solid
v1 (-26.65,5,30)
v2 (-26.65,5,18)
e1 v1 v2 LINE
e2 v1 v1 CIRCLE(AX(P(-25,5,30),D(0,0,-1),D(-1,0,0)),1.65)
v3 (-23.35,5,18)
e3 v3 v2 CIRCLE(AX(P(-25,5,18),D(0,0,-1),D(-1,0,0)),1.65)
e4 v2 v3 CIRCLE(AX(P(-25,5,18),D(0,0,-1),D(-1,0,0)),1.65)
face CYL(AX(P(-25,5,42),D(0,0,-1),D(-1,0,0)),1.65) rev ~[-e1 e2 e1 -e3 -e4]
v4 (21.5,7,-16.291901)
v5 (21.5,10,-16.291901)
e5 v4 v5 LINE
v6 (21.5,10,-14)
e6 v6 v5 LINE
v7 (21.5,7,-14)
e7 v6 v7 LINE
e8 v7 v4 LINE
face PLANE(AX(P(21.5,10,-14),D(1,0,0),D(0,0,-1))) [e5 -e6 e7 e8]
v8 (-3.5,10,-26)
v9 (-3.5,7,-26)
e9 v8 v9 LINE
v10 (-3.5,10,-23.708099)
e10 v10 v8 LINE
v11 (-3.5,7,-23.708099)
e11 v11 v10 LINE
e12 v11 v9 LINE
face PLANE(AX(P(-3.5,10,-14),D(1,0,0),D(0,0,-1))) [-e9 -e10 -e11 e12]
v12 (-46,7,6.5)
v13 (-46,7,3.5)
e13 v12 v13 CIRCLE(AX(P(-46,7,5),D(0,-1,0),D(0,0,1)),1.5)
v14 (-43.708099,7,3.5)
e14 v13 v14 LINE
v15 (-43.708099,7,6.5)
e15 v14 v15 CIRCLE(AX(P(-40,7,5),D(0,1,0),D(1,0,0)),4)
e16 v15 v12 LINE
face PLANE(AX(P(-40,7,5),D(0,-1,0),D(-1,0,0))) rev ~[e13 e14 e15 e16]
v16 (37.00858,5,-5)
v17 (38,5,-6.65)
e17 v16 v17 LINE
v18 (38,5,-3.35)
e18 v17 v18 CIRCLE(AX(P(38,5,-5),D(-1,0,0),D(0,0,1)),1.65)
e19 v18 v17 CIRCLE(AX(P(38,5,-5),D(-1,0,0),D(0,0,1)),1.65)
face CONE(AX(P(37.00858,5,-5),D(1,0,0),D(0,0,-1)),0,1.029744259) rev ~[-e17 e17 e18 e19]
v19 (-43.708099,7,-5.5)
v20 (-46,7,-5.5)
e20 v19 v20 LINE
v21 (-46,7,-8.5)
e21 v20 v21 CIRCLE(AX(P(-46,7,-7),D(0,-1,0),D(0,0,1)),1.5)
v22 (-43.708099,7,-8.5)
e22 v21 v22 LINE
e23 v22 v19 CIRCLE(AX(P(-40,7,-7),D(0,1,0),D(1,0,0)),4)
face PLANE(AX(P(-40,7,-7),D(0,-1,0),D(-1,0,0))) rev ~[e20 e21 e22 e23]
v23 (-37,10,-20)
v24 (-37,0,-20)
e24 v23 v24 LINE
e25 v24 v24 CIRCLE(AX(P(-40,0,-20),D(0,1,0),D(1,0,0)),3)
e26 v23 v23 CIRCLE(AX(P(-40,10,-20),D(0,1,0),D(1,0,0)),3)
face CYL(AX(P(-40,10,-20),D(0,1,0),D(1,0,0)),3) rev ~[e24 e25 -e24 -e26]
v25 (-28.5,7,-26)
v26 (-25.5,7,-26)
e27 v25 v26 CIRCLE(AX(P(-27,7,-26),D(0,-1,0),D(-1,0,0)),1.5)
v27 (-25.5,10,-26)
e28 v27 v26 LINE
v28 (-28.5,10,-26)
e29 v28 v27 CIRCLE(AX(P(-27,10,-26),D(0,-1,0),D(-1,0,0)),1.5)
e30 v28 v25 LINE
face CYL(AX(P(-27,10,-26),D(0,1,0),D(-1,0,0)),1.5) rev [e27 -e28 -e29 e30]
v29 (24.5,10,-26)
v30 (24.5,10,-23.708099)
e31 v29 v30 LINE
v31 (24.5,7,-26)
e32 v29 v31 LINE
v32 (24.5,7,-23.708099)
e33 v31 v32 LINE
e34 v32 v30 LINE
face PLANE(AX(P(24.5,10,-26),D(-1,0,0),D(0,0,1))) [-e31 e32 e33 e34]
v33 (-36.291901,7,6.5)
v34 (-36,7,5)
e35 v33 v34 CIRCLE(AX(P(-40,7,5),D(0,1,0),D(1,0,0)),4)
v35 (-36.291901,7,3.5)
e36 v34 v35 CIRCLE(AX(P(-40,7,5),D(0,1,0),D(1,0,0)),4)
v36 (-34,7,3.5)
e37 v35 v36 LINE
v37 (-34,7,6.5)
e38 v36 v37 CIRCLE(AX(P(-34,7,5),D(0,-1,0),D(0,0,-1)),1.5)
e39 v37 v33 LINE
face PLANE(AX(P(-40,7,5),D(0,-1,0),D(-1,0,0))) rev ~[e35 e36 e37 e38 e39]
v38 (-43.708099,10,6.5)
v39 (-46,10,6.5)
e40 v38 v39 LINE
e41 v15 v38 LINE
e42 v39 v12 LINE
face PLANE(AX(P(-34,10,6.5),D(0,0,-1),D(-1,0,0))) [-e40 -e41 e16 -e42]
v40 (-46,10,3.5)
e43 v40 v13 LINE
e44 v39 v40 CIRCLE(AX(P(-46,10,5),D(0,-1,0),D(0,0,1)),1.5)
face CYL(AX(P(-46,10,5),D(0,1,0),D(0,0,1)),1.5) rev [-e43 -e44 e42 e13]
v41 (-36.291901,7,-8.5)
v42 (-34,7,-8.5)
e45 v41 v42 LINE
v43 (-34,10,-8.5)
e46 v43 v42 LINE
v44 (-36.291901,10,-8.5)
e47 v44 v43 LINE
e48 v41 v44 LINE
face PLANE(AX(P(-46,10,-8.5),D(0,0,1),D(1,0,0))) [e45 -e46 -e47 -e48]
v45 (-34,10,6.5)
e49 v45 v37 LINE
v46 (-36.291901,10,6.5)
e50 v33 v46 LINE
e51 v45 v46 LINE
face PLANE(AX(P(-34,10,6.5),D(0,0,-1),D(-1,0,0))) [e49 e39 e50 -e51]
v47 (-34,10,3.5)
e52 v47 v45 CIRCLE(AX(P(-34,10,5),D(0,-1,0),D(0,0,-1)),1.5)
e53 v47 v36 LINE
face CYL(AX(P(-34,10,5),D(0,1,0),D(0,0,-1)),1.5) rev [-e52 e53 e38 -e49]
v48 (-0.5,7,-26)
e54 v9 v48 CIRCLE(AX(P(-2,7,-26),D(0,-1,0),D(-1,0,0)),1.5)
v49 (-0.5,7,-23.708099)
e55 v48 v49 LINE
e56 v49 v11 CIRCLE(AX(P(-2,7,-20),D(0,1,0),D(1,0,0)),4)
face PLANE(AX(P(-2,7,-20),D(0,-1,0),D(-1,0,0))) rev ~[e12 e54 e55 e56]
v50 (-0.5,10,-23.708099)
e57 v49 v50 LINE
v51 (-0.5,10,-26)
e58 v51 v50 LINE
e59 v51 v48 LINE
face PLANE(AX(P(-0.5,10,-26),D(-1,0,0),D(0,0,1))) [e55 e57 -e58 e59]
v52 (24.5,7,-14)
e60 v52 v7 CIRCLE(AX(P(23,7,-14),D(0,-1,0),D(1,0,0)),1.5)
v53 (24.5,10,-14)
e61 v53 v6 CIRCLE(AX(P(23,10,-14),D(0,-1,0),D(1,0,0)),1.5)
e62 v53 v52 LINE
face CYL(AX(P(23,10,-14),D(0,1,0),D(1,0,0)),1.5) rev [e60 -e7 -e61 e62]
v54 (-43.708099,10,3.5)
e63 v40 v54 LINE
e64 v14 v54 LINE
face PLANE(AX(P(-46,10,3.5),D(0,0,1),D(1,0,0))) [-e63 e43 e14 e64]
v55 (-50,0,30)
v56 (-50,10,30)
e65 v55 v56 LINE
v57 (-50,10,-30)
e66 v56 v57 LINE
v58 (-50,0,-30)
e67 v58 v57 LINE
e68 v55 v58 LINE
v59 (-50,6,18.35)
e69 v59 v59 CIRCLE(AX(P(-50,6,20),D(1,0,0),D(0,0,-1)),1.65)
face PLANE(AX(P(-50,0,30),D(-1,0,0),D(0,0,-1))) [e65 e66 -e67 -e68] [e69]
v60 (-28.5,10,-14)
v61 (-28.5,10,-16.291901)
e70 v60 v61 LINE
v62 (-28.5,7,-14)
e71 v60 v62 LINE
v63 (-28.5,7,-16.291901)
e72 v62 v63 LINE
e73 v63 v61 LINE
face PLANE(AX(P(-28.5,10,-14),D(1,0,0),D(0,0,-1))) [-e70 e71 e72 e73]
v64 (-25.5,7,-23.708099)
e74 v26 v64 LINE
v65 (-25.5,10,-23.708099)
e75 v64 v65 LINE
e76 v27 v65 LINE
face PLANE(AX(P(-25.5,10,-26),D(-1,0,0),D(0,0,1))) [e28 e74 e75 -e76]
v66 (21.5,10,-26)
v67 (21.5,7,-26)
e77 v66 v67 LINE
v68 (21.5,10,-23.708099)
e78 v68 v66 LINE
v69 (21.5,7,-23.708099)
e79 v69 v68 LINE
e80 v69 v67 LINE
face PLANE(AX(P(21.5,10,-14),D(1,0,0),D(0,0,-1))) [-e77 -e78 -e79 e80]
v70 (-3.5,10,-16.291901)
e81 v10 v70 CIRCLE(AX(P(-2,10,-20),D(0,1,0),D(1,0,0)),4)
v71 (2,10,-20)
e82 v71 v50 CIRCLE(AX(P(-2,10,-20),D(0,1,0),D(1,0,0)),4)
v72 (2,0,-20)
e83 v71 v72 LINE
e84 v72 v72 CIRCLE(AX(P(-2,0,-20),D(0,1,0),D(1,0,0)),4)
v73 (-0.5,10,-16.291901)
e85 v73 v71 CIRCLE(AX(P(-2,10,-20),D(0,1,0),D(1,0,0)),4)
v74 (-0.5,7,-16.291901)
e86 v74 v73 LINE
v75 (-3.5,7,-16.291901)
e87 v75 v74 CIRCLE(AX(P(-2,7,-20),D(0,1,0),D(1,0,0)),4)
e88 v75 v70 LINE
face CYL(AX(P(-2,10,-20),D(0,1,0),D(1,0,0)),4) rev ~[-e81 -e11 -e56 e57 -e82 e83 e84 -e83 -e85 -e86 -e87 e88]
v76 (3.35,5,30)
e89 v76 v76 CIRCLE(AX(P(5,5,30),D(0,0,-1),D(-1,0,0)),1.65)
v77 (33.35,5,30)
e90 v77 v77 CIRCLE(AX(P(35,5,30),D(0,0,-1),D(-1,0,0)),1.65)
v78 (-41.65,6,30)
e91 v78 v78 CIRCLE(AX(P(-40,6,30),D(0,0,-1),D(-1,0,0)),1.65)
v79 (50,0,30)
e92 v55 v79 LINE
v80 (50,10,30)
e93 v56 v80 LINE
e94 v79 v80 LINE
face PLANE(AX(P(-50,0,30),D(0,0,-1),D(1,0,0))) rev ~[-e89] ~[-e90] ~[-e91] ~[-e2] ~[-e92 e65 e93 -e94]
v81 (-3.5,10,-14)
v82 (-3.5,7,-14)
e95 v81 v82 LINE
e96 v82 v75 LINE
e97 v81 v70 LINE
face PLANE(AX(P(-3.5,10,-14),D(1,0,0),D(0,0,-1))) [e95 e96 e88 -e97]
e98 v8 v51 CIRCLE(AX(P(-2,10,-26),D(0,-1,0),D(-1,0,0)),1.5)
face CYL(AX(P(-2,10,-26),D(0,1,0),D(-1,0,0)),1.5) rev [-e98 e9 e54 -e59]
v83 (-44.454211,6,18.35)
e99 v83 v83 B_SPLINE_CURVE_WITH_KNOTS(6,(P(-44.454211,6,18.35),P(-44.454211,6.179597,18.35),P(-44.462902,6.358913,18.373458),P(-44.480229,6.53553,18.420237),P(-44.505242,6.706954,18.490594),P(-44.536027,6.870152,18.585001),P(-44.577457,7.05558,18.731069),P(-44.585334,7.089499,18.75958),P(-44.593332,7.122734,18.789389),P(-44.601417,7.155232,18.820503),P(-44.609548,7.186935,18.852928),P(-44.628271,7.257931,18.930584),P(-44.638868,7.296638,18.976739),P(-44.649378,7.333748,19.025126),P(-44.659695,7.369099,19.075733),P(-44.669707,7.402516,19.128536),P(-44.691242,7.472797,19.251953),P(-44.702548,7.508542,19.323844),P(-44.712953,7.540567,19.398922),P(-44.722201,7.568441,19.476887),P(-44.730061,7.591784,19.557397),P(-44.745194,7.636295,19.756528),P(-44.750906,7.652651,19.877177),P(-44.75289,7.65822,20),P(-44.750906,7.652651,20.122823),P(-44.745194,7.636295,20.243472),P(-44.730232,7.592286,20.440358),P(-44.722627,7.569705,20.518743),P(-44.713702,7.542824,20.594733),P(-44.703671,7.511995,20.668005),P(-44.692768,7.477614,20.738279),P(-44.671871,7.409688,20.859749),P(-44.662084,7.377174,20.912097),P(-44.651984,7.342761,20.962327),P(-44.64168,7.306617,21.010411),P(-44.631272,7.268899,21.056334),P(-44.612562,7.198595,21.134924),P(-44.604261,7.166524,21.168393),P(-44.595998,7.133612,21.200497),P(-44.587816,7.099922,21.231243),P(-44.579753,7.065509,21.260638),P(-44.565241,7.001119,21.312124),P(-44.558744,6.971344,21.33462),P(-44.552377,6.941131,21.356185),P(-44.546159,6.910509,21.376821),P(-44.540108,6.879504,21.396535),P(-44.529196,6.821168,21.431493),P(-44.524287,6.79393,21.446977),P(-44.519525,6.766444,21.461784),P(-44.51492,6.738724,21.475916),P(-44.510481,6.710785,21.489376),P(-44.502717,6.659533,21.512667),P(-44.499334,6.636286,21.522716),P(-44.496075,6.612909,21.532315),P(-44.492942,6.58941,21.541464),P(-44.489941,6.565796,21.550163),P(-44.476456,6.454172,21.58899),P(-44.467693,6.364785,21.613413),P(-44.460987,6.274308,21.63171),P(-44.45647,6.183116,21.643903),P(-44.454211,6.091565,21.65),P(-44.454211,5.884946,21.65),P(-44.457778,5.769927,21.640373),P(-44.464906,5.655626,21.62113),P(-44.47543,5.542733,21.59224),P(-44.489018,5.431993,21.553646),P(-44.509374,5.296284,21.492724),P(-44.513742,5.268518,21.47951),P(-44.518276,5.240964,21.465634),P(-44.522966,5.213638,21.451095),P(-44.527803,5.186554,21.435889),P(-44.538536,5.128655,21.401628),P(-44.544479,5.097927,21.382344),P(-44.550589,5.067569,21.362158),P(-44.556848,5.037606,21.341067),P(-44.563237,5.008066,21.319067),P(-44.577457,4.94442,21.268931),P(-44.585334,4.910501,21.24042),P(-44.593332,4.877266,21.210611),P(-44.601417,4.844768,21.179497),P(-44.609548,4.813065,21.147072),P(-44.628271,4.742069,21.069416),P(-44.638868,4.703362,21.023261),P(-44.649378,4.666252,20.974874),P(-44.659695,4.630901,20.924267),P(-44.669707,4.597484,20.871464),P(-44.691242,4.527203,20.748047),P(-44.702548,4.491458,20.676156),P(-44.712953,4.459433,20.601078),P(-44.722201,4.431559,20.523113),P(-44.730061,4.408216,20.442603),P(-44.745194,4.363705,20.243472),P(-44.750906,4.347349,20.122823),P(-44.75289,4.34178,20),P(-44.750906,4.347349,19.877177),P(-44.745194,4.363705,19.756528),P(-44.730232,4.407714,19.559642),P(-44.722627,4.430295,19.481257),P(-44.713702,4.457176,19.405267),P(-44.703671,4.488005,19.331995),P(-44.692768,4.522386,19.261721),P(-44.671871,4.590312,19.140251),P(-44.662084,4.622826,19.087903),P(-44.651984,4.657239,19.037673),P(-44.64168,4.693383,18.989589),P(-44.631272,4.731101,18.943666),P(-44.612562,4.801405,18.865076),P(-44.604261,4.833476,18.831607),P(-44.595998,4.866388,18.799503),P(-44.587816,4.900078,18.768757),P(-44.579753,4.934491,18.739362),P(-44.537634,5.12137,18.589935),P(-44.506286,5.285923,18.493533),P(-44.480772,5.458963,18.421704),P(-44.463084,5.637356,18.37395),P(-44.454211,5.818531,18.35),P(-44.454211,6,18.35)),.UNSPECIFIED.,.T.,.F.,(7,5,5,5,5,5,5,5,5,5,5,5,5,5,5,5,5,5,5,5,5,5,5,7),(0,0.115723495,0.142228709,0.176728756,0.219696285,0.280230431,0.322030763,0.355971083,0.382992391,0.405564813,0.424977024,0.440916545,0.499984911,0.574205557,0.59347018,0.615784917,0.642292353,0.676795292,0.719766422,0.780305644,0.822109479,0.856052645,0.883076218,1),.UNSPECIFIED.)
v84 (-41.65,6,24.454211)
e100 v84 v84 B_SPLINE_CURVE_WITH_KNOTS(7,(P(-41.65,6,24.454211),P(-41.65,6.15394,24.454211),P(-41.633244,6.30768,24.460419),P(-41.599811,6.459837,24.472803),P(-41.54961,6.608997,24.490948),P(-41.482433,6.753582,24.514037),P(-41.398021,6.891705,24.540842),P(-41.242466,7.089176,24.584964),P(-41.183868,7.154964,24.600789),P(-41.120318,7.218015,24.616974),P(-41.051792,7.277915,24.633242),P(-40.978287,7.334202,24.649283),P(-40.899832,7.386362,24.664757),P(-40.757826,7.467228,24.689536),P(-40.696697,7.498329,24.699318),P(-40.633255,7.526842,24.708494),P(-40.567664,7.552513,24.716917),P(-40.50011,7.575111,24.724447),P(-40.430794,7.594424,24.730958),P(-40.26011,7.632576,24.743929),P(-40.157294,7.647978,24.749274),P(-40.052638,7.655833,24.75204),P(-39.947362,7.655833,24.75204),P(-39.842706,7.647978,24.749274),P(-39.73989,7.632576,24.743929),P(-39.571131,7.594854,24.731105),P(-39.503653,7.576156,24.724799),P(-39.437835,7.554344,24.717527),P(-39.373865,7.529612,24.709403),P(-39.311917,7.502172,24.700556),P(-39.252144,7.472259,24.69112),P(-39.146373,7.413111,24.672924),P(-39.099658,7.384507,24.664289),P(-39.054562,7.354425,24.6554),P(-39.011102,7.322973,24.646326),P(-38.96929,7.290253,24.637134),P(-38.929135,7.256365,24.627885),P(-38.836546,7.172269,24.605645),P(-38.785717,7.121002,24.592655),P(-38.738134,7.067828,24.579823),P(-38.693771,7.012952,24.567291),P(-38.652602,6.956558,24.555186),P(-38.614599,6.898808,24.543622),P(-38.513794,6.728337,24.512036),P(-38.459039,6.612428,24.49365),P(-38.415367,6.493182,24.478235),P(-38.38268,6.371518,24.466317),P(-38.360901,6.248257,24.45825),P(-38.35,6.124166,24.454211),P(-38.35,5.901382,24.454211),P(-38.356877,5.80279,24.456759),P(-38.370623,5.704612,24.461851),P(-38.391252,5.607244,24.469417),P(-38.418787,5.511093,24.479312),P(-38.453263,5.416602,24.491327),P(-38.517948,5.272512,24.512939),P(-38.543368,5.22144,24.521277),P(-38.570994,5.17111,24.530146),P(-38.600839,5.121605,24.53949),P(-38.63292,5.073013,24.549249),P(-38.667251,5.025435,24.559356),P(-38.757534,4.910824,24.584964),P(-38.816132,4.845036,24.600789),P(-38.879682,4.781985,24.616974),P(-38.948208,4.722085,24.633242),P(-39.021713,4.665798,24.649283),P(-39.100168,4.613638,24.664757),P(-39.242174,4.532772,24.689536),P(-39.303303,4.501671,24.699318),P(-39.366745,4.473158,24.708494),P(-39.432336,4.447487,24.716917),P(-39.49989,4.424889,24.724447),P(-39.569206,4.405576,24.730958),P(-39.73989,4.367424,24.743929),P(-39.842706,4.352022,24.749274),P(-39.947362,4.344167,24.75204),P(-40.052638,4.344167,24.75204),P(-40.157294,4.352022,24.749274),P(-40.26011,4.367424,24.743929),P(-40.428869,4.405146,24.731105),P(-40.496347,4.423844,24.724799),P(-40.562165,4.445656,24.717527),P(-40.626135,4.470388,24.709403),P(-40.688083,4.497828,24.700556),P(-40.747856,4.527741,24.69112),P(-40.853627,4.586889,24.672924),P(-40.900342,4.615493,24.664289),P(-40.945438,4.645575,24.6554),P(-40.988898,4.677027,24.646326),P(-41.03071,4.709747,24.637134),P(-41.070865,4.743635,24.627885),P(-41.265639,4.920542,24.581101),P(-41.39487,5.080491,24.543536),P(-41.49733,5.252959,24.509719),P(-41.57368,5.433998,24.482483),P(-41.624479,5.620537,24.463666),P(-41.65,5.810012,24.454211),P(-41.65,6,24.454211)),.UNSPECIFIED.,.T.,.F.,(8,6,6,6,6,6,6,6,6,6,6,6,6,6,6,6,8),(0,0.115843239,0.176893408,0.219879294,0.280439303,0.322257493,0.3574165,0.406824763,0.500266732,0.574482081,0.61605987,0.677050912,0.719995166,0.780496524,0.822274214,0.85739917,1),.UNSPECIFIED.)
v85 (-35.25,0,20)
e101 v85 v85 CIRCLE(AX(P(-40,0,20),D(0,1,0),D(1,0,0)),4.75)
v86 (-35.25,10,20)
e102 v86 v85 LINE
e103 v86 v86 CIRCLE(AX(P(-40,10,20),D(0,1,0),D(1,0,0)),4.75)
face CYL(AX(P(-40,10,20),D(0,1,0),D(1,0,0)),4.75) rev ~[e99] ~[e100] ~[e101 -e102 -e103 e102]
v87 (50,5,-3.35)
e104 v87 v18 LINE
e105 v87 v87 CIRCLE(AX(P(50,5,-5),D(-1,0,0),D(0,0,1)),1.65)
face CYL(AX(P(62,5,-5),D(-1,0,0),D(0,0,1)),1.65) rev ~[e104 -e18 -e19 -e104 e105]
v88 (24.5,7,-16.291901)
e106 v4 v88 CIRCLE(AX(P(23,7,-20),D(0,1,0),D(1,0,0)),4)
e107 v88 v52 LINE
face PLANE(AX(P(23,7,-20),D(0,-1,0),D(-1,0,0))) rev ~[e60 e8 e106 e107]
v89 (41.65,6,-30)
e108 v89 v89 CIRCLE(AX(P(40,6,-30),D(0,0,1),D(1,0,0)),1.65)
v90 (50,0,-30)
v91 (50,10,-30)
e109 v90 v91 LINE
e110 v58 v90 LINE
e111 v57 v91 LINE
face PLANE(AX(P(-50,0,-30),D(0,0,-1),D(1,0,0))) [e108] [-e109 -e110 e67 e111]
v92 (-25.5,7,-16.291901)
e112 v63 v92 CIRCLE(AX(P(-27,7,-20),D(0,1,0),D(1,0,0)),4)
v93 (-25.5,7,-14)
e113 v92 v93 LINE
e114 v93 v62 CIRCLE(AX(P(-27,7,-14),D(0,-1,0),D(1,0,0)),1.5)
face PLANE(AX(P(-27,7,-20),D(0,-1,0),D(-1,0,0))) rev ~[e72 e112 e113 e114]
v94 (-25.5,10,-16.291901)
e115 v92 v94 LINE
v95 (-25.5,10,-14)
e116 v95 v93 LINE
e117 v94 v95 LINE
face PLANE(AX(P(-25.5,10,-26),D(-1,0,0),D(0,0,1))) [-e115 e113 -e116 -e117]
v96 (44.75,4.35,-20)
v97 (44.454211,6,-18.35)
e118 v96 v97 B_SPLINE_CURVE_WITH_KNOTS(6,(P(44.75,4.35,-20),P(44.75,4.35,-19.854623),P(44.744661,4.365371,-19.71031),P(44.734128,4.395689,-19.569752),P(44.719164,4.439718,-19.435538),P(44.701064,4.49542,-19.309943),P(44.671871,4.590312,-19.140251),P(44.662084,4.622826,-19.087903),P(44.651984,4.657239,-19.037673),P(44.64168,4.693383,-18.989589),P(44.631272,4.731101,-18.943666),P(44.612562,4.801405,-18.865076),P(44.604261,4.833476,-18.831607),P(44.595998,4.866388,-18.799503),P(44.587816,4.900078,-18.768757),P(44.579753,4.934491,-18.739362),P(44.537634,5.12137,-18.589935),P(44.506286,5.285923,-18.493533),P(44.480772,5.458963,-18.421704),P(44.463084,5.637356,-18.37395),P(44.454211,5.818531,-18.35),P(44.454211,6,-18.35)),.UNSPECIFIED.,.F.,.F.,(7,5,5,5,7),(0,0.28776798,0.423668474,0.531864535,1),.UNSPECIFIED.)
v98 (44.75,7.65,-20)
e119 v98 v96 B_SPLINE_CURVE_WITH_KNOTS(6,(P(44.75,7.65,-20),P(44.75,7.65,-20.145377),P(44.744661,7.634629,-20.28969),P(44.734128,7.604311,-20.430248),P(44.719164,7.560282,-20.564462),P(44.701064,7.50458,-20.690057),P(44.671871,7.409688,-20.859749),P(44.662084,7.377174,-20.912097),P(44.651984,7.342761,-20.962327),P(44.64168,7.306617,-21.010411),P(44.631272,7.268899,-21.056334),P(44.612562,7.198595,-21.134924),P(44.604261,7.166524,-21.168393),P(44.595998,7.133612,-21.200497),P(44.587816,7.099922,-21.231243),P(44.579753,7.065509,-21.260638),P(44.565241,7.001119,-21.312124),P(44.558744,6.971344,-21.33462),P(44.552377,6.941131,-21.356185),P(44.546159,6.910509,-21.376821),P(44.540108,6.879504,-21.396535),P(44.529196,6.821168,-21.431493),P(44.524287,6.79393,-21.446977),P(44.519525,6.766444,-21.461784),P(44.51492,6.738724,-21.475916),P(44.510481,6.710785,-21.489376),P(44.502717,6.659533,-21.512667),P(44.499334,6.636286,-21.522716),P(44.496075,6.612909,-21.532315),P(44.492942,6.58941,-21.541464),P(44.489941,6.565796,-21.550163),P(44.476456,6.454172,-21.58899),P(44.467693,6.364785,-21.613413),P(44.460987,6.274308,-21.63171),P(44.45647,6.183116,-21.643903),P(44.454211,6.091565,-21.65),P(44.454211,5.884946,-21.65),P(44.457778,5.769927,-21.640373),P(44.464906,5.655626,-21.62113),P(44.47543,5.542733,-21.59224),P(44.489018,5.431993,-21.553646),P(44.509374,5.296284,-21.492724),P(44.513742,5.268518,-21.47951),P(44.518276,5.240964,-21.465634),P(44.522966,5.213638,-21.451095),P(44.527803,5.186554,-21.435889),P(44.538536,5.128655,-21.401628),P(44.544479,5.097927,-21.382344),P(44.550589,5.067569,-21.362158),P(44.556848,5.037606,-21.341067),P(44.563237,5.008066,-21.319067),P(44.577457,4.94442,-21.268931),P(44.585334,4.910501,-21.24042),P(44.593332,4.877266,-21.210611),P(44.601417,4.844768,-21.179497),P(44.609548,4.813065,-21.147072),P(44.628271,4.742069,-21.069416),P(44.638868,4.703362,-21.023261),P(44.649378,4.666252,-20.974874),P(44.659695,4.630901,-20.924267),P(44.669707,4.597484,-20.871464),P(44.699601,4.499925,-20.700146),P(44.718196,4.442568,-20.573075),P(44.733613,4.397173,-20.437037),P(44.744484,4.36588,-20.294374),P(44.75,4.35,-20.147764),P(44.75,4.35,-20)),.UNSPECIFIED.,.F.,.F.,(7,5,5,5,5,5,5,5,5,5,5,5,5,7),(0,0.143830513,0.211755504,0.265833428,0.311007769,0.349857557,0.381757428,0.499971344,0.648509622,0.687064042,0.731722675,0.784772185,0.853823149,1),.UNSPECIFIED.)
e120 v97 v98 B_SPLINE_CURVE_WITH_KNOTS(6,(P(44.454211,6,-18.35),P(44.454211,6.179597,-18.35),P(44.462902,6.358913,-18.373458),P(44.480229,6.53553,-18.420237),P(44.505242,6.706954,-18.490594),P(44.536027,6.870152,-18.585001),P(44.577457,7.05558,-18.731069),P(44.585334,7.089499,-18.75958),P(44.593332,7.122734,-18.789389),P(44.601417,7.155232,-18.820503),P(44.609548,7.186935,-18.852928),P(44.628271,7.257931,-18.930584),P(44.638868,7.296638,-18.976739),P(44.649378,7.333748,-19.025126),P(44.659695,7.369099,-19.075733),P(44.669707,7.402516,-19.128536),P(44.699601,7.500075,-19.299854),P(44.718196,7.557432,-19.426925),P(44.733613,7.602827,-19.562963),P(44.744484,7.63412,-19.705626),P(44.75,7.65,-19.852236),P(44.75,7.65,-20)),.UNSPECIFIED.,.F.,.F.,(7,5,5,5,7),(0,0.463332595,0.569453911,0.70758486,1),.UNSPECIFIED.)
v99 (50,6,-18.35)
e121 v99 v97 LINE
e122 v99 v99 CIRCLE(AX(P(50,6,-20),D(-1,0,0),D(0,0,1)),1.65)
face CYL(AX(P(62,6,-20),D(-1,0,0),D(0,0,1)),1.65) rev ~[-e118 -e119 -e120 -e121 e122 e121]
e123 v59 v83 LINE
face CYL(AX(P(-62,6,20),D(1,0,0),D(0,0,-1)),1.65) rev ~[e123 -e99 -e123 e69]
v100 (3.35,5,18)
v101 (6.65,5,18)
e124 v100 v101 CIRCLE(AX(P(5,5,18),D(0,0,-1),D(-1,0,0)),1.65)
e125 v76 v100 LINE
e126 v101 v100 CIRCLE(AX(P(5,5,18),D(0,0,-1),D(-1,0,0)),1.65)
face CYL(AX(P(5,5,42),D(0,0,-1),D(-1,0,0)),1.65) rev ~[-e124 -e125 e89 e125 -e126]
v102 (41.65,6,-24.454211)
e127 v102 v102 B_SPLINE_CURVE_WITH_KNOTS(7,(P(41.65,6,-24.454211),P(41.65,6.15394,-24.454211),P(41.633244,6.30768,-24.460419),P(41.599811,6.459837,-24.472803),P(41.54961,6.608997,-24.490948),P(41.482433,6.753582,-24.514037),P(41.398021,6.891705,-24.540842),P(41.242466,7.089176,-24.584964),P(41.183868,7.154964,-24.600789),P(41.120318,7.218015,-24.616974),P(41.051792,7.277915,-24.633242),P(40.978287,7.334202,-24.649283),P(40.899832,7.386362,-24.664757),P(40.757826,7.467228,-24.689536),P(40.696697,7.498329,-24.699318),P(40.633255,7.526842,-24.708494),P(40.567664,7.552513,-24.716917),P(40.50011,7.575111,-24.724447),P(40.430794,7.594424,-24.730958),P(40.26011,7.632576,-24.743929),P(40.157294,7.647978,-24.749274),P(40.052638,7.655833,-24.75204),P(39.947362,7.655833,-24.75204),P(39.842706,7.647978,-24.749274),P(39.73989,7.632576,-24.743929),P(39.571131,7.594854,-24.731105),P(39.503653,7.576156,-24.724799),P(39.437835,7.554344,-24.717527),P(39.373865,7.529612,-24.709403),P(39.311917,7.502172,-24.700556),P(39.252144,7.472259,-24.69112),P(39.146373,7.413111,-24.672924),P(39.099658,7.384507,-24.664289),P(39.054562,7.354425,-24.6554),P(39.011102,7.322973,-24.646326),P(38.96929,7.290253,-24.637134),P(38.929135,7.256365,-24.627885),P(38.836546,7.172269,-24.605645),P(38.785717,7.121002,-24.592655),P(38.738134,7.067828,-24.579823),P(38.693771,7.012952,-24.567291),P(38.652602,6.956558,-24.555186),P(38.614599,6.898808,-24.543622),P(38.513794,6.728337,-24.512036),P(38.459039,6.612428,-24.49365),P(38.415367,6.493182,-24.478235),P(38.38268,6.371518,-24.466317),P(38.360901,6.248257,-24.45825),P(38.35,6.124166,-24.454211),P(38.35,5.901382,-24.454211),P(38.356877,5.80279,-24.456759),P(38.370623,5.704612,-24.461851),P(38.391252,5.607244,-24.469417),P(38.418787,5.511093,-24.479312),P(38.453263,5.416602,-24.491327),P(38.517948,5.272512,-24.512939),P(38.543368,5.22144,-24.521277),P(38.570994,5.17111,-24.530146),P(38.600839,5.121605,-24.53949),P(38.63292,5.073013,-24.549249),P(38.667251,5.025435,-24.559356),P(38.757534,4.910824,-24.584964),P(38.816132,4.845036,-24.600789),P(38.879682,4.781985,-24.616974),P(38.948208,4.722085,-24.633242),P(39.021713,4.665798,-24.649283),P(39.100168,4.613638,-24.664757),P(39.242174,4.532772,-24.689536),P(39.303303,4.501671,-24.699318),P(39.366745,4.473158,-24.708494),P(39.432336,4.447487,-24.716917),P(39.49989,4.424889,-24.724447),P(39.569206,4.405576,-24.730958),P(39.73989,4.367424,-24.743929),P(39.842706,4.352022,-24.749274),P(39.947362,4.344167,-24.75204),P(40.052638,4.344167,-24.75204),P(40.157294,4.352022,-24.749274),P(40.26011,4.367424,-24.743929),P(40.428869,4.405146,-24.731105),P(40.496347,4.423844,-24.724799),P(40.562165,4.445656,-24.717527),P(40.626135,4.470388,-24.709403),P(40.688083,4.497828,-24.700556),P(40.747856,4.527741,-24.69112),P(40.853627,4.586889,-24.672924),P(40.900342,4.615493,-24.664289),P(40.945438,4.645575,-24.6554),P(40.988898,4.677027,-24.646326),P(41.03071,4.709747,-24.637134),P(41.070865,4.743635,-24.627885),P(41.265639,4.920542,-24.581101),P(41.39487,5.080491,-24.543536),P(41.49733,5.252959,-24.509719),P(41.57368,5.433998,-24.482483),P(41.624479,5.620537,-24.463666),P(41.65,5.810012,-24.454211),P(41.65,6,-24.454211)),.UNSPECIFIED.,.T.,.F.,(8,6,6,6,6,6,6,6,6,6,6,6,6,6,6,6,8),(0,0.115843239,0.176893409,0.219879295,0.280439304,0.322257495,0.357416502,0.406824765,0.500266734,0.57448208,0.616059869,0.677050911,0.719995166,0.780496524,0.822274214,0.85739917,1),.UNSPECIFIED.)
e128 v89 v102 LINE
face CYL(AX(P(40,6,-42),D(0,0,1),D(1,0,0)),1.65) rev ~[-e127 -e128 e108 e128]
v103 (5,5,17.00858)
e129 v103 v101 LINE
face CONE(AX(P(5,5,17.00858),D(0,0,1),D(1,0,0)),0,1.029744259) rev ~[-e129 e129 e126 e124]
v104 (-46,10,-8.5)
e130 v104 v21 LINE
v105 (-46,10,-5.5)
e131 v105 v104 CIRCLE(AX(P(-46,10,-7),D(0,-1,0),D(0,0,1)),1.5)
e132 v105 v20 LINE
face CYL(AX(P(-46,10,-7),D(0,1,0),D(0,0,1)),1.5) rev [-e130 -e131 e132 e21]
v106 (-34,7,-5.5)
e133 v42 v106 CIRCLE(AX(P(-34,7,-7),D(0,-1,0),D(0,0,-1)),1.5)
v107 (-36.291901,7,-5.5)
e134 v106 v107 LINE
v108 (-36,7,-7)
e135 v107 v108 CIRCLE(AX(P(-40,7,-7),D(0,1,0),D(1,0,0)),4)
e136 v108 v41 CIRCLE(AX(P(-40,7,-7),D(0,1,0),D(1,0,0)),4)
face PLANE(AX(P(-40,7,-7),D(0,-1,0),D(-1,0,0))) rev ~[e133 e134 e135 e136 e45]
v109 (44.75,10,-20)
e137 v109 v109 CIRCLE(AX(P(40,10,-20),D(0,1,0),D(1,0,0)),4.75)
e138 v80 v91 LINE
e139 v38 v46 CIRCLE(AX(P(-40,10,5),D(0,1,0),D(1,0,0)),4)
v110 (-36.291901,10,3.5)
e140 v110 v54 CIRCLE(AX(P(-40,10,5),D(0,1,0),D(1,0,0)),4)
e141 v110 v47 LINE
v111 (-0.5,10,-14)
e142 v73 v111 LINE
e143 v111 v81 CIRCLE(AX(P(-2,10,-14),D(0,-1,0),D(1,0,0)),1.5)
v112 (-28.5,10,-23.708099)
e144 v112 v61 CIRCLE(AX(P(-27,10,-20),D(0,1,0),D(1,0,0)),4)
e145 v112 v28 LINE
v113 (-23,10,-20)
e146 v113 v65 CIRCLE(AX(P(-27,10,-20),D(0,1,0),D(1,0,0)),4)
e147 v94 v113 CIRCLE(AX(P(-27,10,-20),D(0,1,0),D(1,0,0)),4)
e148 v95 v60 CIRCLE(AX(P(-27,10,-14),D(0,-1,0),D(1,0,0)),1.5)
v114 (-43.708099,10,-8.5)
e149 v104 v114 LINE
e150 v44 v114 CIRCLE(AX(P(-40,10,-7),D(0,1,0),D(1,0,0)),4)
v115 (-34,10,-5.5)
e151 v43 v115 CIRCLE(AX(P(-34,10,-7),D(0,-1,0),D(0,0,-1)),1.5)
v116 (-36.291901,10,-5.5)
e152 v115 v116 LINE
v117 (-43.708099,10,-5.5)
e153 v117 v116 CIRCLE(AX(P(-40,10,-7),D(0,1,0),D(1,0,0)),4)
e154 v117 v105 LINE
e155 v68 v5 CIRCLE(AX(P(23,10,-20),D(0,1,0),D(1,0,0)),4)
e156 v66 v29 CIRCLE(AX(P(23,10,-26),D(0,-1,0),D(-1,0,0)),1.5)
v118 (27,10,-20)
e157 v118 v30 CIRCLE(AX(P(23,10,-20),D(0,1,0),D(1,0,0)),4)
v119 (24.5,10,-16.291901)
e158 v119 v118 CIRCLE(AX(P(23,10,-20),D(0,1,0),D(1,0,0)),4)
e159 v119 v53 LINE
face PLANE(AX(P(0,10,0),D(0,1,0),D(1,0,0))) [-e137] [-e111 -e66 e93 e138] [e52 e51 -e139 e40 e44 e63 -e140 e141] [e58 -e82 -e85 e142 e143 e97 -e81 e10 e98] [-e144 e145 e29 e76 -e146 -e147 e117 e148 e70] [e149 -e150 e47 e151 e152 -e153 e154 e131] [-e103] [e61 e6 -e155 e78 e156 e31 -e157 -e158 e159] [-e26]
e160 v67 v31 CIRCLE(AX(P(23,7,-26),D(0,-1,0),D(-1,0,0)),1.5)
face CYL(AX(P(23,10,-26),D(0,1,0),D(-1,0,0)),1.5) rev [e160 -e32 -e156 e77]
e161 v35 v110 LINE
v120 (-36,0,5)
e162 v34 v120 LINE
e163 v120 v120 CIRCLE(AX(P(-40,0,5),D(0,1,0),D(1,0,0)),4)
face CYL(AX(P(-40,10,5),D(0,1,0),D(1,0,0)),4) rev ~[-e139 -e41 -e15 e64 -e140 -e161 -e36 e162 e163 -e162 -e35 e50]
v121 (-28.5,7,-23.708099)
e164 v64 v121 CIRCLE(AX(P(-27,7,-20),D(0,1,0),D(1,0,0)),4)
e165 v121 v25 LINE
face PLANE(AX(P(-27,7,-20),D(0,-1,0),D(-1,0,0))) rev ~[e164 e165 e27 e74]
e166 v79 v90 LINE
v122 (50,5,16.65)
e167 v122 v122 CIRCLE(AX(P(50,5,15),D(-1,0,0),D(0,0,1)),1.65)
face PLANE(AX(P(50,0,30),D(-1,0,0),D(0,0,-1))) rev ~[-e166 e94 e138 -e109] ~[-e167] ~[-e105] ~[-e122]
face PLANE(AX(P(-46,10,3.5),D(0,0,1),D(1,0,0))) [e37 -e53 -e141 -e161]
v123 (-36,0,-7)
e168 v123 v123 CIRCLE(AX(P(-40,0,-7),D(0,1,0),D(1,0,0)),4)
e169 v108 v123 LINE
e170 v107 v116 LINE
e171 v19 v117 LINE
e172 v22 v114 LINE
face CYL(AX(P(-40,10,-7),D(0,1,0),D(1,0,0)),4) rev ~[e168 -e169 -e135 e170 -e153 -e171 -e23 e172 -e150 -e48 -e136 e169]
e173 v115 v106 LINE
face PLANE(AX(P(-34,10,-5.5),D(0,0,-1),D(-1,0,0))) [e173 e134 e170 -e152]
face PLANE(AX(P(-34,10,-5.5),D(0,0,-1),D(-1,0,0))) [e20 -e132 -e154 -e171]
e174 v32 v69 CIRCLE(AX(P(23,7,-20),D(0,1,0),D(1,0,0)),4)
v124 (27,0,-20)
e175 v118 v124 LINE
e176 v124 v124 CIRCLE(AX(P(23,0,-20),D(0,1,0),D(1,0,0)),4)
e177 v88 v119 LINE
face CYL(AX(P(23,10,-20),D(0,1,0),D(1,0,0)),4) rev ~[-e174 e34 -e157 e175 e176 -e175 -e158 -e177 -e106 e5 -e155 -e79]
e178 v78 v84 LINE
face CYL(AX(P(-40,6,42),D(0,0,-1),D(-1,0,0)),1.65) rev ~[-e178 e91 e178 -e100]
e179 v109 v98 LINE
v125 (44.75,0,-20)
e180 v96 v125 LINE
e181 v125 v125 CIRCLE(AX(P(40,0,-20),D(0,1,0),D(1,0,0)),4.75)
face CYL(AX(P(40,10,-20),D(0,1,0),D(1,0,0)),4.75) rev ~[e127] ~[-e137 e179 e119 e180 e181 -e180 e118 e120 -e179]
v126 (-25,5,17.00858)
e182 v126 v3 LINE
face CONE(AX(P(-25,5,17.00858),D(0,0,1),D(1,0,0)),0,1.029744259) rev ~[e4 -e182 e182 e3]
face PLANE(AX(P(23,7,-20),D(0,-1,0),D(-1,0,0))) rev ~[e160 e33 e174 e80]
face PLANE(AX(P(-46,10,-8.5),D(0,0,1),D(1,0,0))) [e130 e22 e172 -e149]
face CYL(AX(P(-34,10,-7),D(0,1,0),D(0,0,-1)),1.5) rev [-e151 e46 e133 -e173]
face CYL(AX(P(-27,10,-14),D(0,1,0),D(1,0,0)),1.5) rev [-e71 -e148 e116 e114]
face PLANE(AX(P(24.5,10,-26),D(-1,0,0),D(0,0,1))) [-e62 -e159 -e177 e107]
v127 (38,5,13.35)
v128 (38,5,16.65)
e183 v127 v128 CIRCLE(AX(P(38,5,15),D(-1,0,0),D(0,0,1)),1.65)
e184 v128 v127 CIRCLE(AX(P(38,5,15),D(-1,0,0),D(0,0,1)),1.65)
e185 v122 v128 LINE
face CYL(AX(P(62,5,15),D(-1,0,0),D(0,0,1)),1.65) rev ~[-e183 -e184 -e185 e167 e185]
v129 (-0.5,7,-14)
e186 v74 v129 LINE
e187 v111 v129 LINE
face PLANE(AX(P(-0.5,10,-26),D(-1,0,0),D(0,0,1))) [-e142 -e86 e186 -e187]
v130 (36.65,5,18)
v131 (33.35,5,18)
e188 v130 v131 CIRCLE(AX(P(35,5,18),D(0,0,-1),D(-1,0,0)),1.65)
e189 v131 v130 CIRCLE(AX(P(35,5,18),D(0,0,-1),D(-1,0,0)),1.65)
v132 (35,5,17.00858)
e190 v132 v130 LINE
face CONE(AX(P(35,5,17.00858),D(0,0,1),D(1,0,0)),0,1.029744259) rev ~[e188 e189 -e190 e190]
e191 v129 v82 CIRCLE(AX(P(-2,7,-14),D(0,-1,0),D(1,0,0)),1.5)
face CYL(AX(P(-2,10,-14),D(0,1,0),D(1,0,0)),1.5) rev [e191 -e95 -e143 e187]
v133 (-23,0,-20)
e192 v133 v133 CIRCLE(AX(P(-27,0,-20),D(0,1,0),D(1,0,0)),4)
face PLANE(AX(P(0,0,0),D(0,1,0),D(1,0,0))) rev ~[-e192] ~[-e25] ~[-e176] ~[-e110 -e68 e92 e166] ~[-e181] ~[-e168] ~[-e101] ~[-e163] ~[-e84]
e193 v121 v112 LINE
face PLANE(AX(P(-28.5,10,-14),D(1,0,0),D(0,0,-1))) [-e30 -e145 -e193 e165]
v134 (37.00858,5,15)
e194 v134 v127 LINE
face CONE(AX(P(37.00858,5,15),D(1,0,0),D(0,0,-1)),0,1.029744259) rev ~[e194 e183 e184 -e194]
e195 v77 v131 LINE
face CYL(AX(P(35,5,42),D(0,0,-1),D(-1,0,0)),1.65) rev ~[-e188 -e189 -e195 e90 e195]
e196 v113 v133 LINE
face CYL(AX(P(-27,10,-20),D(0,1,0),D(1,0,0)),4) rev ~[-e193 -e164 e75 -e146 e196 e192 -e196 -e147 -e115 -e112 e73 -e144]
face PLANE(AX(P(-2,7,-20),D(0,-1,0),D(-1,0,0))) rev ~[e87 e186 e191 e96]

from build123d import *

# Parameters (mm, degrees)
SKETCH1_W             = 100
SKETCH1_H             = 60
BOSS_EXTRUDE1_DEPTH   = 10
CUT_EXTRUDE1_REACH    = 12
SKETCH2_R             = 3
SKETCH2_R_2           = 4
SKETCH2_R_3           = 4.75
CUT_EXTRUDE2_DEPTH    = 3
M4_TAPPED_HOLE1_D     = 3.3
M4_TAPPED_HOLE1_DEPTH = 12
M4_TAPPED_HOLE1_TIP   = 0.991420021
M4_TAPPED_HOLE2_D     = 3.3
M4_TAPPED_HOLE2_DEPTH = 12
M4_TAPPED_HOLE2_TIP   = 0.991420021
M4_TAPPED_HOLE3_D     = 3.3
M4_TAPPED_HOLE3_DEPTH = 12
M4_TAPPED_HOLE3_TIP   = 0.991420021
M4_TAPPED_HOLE4_D     = 3.3
M4_TAPPED_HOLE4_DEPTH = 12
M4_TAPPED_HOLE4_TIP   = 0.991420021


with BuildPart() as part:
    # Sketch1 → Boss-Extrude1 (new body)
    with BuildSketch(Plane(origin=(0, 0, 0), x_dir=(1, 0, 0), z_dir=(0, 1, 0))):
        Rectangle(SKETCH1_W, SKETCH1_H)
    extrude(amount=BOSS_EXTRUDE1_DEPTH)

    # Sketch2 → Cut-Extrude1 (cut, up to next)
    with BuildSketch(Plane(origin=(0, 10, 0), x_dir=(1, 0, 0), z_dir=(0, 1, 0)), mode=Mode.PRIVATE) as cut_extrude1_sk1:
        with Locations((-40, 20)):
            Circle(SKETCH2_R)
    cut_extrude1_tool1 = extrude(cut_extrude1_sk1.sketch, amount=-CUT_EXTRUDE1_REACH, mode=Mode.PRIVATE) & part.part
    add(cut_extrude1_tool1.solids().sort_by_distance((-40, 10, -20))[0], mode=Mode.SUBTRACT)
    # Sketch2 → Cut-Extrude1 (cut, up to next)
    with BuildSketch(Plane(origin=(0, 10, 0), x_dir=(1, 0, 0), z_dir=(0, 1, 0)), mode=Mode.PRIVATE) as cut_extrude1_sk2:
        with Locations((-27, 20)):
            Circle(SKETCH2_R_2)
    cut_extrude1_tool2 = extrude(cut_extrude1_sk2.sketch, amount=-CUT_EXTRUDE1_REACH, mode=Mode.PRIVATE) & part.part
    add(cut_extrude1_tool2.solids().sort_by_distance((-27, 10, -20))[0], mode=Mode.SUBTRACT)
    # Sketch2 → Cut-Extrude1 (cut, up to next)
    with BuildSketch(Plane(origin=(0, 10, 0), x_dir=(1, 0, 0), z_dir=(0, 1, 0)), mode=Mode.PRIVATE) as cut_extrude1_sk3:
        with Locations((-2, 20)):
            Circle(SKETCH2_R_2)
    cut_extrude1_tool3 = extrude(cut_extrude1_sk3.sketch, amount=-CUT_EXTRUDE1_REACH, mode=Mode.PRIVATE) & part.part
    add(cut_extrude1_tool3.solids().sort_by_distance((-2, 10, -20))[0], mode=Mode.SUBTRACT)
    # Sketch2 → Cut-Extrude1 (cut, up to next)
    with BuildSketch(Plane(origin=(0, 10, 0), x_dir=(1, 0, 0), z_dir=(0, 1, 0)), mode=Mode.PRIVATE) as cut_extrude1_sk4:
        with Locations((23, 20)):
            Circle(SKETCH2_R_2)
    cut_extrude1_tool4 = extrude(cut_extrude1_sk4.sketch, amount=-CUT_EXTRUDE1_REACH, mode=Mode.PRIVATE) & part.part
    add(cut_extrude1_tool4.solids().sort_by_distance((23, 10, -20))[0], mode=Mode.SUBTRACT)
    # Sketch2 → Cut-Extrude1 (cut, up to next)
    with BuildSketch(Plane(origin=(0, 10, 0), x_dir=(1, 0, 0), z_dir=(0, 1, 0)), mode=Mode.PRIVATE) as cut_extrude1_sk5:
        with Locations((40, 20)):
            Circle(SKETCH2_R_3)
    cut_extrude1_tool5 = extrude(cut_extrude1_sk5.sketch, amount=-CUT_EXTRUDE1_REACH, mode=Mode.PRIVATE) & part.part
    add(cut_extrude1_tool5.solids().sort_by_distance((40, 10, -20))[0], mode=Mode.SUBTRACT)
    # Sketch2 → Cut-Extrude1 (cut, up to next)
    with BuildSketch(Plane(origin=(0, 10, 0), x_dir=(1, 0, 0), z_dir=(0, 1, 0)), mode=Mode.PRIVATE) as cut_extrude1_sk6:
        with Locations((-40, 7)):
            Circle(SKETCH2_R_2)
    cut_extrude1_tool6 = extrude(cut_extrude1_sk6.sketch, amount=-CUT_EXTRUDE1_REACH, mode=Mode.PRIVATE) & part.part
    add(cut_extrude1_tool6.solids().sort_by_distance((-40, 10, -7))[0], mode=Mode.SUBTRACT)
    # Sketch2 → Cut-Extrude1 (cut, up to next)
    with BuildSketch(Plane(origin=(0, 10, 0), x_dir=(1, 0, 0), z_dir=(0, 1, 0)), mode=Mode.PRIVATE) as cut_extrude1_sk7:
        with Locations((-40, -5)):
            Circle(SKETCH2_R_2)
    cut_extrude1_tool7 = extrude(cut_extrude1_sk7.sketch, amount=-CUT_EXTRUDE1_REACH, mode=Mode.PRIVATE) & part.part
    add(cut_extrude1_tool7.solids().sort_by_distance((-40, 10, 5))[0], mode=Mode.SUBTRACT)
    # Sketch2 → Cut-Extrude1 (cut, up to next)
    with BuildSketch(Plane(origin=(0, 10, 0), x_dir=(1, 0, 0), z_dir=(0, 1, 0)), mode=Mode.PRIVATE) as cut_extrude1_sk8:
        with Locations((-40, -20)):
            Circle(SKETCH2_R_3)
    cut_extrude1_tool8 = extrude(cut_extrude1_sk8.sketch, amount=-CUT_EXTRUDE1_REACH, mode=Mode.PRIVATE) & part.part
    add(cut_extrude1_tool8.solids().sort_by_distance((-40, 10, 20))[0], mode=Mode.SUBTRACT)

    # Sketch3 → Cut-Extrude2 (cut)
    with BuildSketch(Plane(origin=(0, 10, 0), x_dir=(1, 0, 0), z_dir=(0, 1, 0))):
        with BuildLine():
            Line((-46, 8.5), (-34, 8.5))
            ThreePointArc((-34, 8.5), (-32.5, 7), (-34, 5.5))
            Line((-34, 5.5), (-46, 5.5))
            ThreePointArc((-46, 5.5), (-47.5, 7), (-46, 8.5))
        make_face()
        with BuildLine():
            Line((-46, -3.5), (-34, -3.5))
            ThreePointArc((-34, -3.5), (-32.5, -5), (-34, -6.5))
            Line((-34, -6.5), (-46, -6.5))
            ThreePointArc((-46, -6.5), (-47.5, -5), (-46, -3.5))
        make_face()
        with BuildLine():
            Line((-25.5, 26), (-25.5, 14))
            ThreePointArc((-25.5, 14), (-27, 12.5), (-28.5, 14))
            Line((-28.5, 14), (-28.5, 26))
            ThreePointArc((-28.5, 26), (-27, 27.5), (-25.5, 26))
        make_face()
        with BuildLine():
            Line((-0.5, 26), (-0.5, 14))
            ThreePointArc((-0.5, 14), (-2, 12.5), (-3.5, 14))
            Line((-3.5, 14), (-3.5, 26))
            ThreePointArc((-3.5, 26), (-2, 27.5), (-0.5, 26))
        make_face()
        with BuildLine():
            Line((24.5, 26), (24.5, 14))
            ThreePointArc((24.5, 14), (23, 12.5), (21.5, 14))
            Line((21.5, 14), (21.5, 26))
            ThreePointArc((21.5, 26), (23, 27.5), (24.5, 26))
        make_face()
    extrude(amount=-CUT_EXTRUDE2_DEPTH, mode=Mode.SUBTRACT)

    # M4 Tapped Hole1
    with Locations(Plane.ZY.offset(50)):
        with Locations((20, 6)):
            Hole(M4_TAPPED_HOLE1_D / 2, depth=M4_TAPPED_HOLE1_DEPTH)
            with Locations((0, 0, -(M4_TAPPED_HOLE1_DEPTH + M4_TAPPED_HOLE1_TIP / 2))):  # 118° drill point
                Cone(0, M4_TAPPED_HOLE1_D / 2, M4_TAPPED_HOLE1_TIP, mode=Mode.SUBTRACT)

    # M4 Tapped Hole2
    with Locations(Plane.XY.offset(30)):
        with Locations((-40, 6), (-25, 5), (5, 5), (35, 5)):
            Hole(M4_TAPPED_HOLE2_D / 2, depth=M4_TAPPED_HOLE2_DEPTH)
            with Locations((0, 0, -(M4_TAPPED_HOLE2_DEPTH + M4_TAPPED_HOLE2_TIP / 2))):  # 118° drill point
                Cone(0, M4_TAPPED_HOLE2_D / 2, M4_TAPPED_HOLE2_TIP, mode=Mode.SUBTRACT)

    # M4 Tapped Hole3
    with Locations(Plane(origin=(50, 0, 0), x_dir=(0, 0, -1), z_dir=(1, 0, 0))):
        with Locations((-15, 5), (5, 5), (20, 6)):
            Hole(M4_TAPPED_HOLE3_D / 2, depth=M4_TAPPED_HOLE3_DEPTH)
            with Locations((0, 0, -(M4_TAPPED_HOLE3_DEPTH + M4_TAPPED_HOLE3_TIP / 2))):  # 118° drill point
                Cone(0, M4_TAPPED_HOLE3_D / 2, M4_TAPPED_HOLE3_TIP, mode=Mode.SUBTRACT)

    # M4 Tapped Hole4
    with Locations(Plane(origin=(0, 0, -30), x_dir=(-1, 0, 0), z_dir=(0, 0, -1))):
        with Locations((-40, 6)):
            Hole(M4_TAPPED_HOLE4_D / 2, depth=M4_TAPPED_HOLE4_DEPTH)
            with Locations((0, 0, -(M4_TAPPED_HOLE4_DEPTH + M4_TAPPED_HOLE4_TIP / 2))):  # 118° drill point
                Cone(0, M4_TAPPED_HOLE4_D / 2, M4_TAPPED_HOLE4_TIP, mode=Mode.SUBTRACT)


solid = part.part
